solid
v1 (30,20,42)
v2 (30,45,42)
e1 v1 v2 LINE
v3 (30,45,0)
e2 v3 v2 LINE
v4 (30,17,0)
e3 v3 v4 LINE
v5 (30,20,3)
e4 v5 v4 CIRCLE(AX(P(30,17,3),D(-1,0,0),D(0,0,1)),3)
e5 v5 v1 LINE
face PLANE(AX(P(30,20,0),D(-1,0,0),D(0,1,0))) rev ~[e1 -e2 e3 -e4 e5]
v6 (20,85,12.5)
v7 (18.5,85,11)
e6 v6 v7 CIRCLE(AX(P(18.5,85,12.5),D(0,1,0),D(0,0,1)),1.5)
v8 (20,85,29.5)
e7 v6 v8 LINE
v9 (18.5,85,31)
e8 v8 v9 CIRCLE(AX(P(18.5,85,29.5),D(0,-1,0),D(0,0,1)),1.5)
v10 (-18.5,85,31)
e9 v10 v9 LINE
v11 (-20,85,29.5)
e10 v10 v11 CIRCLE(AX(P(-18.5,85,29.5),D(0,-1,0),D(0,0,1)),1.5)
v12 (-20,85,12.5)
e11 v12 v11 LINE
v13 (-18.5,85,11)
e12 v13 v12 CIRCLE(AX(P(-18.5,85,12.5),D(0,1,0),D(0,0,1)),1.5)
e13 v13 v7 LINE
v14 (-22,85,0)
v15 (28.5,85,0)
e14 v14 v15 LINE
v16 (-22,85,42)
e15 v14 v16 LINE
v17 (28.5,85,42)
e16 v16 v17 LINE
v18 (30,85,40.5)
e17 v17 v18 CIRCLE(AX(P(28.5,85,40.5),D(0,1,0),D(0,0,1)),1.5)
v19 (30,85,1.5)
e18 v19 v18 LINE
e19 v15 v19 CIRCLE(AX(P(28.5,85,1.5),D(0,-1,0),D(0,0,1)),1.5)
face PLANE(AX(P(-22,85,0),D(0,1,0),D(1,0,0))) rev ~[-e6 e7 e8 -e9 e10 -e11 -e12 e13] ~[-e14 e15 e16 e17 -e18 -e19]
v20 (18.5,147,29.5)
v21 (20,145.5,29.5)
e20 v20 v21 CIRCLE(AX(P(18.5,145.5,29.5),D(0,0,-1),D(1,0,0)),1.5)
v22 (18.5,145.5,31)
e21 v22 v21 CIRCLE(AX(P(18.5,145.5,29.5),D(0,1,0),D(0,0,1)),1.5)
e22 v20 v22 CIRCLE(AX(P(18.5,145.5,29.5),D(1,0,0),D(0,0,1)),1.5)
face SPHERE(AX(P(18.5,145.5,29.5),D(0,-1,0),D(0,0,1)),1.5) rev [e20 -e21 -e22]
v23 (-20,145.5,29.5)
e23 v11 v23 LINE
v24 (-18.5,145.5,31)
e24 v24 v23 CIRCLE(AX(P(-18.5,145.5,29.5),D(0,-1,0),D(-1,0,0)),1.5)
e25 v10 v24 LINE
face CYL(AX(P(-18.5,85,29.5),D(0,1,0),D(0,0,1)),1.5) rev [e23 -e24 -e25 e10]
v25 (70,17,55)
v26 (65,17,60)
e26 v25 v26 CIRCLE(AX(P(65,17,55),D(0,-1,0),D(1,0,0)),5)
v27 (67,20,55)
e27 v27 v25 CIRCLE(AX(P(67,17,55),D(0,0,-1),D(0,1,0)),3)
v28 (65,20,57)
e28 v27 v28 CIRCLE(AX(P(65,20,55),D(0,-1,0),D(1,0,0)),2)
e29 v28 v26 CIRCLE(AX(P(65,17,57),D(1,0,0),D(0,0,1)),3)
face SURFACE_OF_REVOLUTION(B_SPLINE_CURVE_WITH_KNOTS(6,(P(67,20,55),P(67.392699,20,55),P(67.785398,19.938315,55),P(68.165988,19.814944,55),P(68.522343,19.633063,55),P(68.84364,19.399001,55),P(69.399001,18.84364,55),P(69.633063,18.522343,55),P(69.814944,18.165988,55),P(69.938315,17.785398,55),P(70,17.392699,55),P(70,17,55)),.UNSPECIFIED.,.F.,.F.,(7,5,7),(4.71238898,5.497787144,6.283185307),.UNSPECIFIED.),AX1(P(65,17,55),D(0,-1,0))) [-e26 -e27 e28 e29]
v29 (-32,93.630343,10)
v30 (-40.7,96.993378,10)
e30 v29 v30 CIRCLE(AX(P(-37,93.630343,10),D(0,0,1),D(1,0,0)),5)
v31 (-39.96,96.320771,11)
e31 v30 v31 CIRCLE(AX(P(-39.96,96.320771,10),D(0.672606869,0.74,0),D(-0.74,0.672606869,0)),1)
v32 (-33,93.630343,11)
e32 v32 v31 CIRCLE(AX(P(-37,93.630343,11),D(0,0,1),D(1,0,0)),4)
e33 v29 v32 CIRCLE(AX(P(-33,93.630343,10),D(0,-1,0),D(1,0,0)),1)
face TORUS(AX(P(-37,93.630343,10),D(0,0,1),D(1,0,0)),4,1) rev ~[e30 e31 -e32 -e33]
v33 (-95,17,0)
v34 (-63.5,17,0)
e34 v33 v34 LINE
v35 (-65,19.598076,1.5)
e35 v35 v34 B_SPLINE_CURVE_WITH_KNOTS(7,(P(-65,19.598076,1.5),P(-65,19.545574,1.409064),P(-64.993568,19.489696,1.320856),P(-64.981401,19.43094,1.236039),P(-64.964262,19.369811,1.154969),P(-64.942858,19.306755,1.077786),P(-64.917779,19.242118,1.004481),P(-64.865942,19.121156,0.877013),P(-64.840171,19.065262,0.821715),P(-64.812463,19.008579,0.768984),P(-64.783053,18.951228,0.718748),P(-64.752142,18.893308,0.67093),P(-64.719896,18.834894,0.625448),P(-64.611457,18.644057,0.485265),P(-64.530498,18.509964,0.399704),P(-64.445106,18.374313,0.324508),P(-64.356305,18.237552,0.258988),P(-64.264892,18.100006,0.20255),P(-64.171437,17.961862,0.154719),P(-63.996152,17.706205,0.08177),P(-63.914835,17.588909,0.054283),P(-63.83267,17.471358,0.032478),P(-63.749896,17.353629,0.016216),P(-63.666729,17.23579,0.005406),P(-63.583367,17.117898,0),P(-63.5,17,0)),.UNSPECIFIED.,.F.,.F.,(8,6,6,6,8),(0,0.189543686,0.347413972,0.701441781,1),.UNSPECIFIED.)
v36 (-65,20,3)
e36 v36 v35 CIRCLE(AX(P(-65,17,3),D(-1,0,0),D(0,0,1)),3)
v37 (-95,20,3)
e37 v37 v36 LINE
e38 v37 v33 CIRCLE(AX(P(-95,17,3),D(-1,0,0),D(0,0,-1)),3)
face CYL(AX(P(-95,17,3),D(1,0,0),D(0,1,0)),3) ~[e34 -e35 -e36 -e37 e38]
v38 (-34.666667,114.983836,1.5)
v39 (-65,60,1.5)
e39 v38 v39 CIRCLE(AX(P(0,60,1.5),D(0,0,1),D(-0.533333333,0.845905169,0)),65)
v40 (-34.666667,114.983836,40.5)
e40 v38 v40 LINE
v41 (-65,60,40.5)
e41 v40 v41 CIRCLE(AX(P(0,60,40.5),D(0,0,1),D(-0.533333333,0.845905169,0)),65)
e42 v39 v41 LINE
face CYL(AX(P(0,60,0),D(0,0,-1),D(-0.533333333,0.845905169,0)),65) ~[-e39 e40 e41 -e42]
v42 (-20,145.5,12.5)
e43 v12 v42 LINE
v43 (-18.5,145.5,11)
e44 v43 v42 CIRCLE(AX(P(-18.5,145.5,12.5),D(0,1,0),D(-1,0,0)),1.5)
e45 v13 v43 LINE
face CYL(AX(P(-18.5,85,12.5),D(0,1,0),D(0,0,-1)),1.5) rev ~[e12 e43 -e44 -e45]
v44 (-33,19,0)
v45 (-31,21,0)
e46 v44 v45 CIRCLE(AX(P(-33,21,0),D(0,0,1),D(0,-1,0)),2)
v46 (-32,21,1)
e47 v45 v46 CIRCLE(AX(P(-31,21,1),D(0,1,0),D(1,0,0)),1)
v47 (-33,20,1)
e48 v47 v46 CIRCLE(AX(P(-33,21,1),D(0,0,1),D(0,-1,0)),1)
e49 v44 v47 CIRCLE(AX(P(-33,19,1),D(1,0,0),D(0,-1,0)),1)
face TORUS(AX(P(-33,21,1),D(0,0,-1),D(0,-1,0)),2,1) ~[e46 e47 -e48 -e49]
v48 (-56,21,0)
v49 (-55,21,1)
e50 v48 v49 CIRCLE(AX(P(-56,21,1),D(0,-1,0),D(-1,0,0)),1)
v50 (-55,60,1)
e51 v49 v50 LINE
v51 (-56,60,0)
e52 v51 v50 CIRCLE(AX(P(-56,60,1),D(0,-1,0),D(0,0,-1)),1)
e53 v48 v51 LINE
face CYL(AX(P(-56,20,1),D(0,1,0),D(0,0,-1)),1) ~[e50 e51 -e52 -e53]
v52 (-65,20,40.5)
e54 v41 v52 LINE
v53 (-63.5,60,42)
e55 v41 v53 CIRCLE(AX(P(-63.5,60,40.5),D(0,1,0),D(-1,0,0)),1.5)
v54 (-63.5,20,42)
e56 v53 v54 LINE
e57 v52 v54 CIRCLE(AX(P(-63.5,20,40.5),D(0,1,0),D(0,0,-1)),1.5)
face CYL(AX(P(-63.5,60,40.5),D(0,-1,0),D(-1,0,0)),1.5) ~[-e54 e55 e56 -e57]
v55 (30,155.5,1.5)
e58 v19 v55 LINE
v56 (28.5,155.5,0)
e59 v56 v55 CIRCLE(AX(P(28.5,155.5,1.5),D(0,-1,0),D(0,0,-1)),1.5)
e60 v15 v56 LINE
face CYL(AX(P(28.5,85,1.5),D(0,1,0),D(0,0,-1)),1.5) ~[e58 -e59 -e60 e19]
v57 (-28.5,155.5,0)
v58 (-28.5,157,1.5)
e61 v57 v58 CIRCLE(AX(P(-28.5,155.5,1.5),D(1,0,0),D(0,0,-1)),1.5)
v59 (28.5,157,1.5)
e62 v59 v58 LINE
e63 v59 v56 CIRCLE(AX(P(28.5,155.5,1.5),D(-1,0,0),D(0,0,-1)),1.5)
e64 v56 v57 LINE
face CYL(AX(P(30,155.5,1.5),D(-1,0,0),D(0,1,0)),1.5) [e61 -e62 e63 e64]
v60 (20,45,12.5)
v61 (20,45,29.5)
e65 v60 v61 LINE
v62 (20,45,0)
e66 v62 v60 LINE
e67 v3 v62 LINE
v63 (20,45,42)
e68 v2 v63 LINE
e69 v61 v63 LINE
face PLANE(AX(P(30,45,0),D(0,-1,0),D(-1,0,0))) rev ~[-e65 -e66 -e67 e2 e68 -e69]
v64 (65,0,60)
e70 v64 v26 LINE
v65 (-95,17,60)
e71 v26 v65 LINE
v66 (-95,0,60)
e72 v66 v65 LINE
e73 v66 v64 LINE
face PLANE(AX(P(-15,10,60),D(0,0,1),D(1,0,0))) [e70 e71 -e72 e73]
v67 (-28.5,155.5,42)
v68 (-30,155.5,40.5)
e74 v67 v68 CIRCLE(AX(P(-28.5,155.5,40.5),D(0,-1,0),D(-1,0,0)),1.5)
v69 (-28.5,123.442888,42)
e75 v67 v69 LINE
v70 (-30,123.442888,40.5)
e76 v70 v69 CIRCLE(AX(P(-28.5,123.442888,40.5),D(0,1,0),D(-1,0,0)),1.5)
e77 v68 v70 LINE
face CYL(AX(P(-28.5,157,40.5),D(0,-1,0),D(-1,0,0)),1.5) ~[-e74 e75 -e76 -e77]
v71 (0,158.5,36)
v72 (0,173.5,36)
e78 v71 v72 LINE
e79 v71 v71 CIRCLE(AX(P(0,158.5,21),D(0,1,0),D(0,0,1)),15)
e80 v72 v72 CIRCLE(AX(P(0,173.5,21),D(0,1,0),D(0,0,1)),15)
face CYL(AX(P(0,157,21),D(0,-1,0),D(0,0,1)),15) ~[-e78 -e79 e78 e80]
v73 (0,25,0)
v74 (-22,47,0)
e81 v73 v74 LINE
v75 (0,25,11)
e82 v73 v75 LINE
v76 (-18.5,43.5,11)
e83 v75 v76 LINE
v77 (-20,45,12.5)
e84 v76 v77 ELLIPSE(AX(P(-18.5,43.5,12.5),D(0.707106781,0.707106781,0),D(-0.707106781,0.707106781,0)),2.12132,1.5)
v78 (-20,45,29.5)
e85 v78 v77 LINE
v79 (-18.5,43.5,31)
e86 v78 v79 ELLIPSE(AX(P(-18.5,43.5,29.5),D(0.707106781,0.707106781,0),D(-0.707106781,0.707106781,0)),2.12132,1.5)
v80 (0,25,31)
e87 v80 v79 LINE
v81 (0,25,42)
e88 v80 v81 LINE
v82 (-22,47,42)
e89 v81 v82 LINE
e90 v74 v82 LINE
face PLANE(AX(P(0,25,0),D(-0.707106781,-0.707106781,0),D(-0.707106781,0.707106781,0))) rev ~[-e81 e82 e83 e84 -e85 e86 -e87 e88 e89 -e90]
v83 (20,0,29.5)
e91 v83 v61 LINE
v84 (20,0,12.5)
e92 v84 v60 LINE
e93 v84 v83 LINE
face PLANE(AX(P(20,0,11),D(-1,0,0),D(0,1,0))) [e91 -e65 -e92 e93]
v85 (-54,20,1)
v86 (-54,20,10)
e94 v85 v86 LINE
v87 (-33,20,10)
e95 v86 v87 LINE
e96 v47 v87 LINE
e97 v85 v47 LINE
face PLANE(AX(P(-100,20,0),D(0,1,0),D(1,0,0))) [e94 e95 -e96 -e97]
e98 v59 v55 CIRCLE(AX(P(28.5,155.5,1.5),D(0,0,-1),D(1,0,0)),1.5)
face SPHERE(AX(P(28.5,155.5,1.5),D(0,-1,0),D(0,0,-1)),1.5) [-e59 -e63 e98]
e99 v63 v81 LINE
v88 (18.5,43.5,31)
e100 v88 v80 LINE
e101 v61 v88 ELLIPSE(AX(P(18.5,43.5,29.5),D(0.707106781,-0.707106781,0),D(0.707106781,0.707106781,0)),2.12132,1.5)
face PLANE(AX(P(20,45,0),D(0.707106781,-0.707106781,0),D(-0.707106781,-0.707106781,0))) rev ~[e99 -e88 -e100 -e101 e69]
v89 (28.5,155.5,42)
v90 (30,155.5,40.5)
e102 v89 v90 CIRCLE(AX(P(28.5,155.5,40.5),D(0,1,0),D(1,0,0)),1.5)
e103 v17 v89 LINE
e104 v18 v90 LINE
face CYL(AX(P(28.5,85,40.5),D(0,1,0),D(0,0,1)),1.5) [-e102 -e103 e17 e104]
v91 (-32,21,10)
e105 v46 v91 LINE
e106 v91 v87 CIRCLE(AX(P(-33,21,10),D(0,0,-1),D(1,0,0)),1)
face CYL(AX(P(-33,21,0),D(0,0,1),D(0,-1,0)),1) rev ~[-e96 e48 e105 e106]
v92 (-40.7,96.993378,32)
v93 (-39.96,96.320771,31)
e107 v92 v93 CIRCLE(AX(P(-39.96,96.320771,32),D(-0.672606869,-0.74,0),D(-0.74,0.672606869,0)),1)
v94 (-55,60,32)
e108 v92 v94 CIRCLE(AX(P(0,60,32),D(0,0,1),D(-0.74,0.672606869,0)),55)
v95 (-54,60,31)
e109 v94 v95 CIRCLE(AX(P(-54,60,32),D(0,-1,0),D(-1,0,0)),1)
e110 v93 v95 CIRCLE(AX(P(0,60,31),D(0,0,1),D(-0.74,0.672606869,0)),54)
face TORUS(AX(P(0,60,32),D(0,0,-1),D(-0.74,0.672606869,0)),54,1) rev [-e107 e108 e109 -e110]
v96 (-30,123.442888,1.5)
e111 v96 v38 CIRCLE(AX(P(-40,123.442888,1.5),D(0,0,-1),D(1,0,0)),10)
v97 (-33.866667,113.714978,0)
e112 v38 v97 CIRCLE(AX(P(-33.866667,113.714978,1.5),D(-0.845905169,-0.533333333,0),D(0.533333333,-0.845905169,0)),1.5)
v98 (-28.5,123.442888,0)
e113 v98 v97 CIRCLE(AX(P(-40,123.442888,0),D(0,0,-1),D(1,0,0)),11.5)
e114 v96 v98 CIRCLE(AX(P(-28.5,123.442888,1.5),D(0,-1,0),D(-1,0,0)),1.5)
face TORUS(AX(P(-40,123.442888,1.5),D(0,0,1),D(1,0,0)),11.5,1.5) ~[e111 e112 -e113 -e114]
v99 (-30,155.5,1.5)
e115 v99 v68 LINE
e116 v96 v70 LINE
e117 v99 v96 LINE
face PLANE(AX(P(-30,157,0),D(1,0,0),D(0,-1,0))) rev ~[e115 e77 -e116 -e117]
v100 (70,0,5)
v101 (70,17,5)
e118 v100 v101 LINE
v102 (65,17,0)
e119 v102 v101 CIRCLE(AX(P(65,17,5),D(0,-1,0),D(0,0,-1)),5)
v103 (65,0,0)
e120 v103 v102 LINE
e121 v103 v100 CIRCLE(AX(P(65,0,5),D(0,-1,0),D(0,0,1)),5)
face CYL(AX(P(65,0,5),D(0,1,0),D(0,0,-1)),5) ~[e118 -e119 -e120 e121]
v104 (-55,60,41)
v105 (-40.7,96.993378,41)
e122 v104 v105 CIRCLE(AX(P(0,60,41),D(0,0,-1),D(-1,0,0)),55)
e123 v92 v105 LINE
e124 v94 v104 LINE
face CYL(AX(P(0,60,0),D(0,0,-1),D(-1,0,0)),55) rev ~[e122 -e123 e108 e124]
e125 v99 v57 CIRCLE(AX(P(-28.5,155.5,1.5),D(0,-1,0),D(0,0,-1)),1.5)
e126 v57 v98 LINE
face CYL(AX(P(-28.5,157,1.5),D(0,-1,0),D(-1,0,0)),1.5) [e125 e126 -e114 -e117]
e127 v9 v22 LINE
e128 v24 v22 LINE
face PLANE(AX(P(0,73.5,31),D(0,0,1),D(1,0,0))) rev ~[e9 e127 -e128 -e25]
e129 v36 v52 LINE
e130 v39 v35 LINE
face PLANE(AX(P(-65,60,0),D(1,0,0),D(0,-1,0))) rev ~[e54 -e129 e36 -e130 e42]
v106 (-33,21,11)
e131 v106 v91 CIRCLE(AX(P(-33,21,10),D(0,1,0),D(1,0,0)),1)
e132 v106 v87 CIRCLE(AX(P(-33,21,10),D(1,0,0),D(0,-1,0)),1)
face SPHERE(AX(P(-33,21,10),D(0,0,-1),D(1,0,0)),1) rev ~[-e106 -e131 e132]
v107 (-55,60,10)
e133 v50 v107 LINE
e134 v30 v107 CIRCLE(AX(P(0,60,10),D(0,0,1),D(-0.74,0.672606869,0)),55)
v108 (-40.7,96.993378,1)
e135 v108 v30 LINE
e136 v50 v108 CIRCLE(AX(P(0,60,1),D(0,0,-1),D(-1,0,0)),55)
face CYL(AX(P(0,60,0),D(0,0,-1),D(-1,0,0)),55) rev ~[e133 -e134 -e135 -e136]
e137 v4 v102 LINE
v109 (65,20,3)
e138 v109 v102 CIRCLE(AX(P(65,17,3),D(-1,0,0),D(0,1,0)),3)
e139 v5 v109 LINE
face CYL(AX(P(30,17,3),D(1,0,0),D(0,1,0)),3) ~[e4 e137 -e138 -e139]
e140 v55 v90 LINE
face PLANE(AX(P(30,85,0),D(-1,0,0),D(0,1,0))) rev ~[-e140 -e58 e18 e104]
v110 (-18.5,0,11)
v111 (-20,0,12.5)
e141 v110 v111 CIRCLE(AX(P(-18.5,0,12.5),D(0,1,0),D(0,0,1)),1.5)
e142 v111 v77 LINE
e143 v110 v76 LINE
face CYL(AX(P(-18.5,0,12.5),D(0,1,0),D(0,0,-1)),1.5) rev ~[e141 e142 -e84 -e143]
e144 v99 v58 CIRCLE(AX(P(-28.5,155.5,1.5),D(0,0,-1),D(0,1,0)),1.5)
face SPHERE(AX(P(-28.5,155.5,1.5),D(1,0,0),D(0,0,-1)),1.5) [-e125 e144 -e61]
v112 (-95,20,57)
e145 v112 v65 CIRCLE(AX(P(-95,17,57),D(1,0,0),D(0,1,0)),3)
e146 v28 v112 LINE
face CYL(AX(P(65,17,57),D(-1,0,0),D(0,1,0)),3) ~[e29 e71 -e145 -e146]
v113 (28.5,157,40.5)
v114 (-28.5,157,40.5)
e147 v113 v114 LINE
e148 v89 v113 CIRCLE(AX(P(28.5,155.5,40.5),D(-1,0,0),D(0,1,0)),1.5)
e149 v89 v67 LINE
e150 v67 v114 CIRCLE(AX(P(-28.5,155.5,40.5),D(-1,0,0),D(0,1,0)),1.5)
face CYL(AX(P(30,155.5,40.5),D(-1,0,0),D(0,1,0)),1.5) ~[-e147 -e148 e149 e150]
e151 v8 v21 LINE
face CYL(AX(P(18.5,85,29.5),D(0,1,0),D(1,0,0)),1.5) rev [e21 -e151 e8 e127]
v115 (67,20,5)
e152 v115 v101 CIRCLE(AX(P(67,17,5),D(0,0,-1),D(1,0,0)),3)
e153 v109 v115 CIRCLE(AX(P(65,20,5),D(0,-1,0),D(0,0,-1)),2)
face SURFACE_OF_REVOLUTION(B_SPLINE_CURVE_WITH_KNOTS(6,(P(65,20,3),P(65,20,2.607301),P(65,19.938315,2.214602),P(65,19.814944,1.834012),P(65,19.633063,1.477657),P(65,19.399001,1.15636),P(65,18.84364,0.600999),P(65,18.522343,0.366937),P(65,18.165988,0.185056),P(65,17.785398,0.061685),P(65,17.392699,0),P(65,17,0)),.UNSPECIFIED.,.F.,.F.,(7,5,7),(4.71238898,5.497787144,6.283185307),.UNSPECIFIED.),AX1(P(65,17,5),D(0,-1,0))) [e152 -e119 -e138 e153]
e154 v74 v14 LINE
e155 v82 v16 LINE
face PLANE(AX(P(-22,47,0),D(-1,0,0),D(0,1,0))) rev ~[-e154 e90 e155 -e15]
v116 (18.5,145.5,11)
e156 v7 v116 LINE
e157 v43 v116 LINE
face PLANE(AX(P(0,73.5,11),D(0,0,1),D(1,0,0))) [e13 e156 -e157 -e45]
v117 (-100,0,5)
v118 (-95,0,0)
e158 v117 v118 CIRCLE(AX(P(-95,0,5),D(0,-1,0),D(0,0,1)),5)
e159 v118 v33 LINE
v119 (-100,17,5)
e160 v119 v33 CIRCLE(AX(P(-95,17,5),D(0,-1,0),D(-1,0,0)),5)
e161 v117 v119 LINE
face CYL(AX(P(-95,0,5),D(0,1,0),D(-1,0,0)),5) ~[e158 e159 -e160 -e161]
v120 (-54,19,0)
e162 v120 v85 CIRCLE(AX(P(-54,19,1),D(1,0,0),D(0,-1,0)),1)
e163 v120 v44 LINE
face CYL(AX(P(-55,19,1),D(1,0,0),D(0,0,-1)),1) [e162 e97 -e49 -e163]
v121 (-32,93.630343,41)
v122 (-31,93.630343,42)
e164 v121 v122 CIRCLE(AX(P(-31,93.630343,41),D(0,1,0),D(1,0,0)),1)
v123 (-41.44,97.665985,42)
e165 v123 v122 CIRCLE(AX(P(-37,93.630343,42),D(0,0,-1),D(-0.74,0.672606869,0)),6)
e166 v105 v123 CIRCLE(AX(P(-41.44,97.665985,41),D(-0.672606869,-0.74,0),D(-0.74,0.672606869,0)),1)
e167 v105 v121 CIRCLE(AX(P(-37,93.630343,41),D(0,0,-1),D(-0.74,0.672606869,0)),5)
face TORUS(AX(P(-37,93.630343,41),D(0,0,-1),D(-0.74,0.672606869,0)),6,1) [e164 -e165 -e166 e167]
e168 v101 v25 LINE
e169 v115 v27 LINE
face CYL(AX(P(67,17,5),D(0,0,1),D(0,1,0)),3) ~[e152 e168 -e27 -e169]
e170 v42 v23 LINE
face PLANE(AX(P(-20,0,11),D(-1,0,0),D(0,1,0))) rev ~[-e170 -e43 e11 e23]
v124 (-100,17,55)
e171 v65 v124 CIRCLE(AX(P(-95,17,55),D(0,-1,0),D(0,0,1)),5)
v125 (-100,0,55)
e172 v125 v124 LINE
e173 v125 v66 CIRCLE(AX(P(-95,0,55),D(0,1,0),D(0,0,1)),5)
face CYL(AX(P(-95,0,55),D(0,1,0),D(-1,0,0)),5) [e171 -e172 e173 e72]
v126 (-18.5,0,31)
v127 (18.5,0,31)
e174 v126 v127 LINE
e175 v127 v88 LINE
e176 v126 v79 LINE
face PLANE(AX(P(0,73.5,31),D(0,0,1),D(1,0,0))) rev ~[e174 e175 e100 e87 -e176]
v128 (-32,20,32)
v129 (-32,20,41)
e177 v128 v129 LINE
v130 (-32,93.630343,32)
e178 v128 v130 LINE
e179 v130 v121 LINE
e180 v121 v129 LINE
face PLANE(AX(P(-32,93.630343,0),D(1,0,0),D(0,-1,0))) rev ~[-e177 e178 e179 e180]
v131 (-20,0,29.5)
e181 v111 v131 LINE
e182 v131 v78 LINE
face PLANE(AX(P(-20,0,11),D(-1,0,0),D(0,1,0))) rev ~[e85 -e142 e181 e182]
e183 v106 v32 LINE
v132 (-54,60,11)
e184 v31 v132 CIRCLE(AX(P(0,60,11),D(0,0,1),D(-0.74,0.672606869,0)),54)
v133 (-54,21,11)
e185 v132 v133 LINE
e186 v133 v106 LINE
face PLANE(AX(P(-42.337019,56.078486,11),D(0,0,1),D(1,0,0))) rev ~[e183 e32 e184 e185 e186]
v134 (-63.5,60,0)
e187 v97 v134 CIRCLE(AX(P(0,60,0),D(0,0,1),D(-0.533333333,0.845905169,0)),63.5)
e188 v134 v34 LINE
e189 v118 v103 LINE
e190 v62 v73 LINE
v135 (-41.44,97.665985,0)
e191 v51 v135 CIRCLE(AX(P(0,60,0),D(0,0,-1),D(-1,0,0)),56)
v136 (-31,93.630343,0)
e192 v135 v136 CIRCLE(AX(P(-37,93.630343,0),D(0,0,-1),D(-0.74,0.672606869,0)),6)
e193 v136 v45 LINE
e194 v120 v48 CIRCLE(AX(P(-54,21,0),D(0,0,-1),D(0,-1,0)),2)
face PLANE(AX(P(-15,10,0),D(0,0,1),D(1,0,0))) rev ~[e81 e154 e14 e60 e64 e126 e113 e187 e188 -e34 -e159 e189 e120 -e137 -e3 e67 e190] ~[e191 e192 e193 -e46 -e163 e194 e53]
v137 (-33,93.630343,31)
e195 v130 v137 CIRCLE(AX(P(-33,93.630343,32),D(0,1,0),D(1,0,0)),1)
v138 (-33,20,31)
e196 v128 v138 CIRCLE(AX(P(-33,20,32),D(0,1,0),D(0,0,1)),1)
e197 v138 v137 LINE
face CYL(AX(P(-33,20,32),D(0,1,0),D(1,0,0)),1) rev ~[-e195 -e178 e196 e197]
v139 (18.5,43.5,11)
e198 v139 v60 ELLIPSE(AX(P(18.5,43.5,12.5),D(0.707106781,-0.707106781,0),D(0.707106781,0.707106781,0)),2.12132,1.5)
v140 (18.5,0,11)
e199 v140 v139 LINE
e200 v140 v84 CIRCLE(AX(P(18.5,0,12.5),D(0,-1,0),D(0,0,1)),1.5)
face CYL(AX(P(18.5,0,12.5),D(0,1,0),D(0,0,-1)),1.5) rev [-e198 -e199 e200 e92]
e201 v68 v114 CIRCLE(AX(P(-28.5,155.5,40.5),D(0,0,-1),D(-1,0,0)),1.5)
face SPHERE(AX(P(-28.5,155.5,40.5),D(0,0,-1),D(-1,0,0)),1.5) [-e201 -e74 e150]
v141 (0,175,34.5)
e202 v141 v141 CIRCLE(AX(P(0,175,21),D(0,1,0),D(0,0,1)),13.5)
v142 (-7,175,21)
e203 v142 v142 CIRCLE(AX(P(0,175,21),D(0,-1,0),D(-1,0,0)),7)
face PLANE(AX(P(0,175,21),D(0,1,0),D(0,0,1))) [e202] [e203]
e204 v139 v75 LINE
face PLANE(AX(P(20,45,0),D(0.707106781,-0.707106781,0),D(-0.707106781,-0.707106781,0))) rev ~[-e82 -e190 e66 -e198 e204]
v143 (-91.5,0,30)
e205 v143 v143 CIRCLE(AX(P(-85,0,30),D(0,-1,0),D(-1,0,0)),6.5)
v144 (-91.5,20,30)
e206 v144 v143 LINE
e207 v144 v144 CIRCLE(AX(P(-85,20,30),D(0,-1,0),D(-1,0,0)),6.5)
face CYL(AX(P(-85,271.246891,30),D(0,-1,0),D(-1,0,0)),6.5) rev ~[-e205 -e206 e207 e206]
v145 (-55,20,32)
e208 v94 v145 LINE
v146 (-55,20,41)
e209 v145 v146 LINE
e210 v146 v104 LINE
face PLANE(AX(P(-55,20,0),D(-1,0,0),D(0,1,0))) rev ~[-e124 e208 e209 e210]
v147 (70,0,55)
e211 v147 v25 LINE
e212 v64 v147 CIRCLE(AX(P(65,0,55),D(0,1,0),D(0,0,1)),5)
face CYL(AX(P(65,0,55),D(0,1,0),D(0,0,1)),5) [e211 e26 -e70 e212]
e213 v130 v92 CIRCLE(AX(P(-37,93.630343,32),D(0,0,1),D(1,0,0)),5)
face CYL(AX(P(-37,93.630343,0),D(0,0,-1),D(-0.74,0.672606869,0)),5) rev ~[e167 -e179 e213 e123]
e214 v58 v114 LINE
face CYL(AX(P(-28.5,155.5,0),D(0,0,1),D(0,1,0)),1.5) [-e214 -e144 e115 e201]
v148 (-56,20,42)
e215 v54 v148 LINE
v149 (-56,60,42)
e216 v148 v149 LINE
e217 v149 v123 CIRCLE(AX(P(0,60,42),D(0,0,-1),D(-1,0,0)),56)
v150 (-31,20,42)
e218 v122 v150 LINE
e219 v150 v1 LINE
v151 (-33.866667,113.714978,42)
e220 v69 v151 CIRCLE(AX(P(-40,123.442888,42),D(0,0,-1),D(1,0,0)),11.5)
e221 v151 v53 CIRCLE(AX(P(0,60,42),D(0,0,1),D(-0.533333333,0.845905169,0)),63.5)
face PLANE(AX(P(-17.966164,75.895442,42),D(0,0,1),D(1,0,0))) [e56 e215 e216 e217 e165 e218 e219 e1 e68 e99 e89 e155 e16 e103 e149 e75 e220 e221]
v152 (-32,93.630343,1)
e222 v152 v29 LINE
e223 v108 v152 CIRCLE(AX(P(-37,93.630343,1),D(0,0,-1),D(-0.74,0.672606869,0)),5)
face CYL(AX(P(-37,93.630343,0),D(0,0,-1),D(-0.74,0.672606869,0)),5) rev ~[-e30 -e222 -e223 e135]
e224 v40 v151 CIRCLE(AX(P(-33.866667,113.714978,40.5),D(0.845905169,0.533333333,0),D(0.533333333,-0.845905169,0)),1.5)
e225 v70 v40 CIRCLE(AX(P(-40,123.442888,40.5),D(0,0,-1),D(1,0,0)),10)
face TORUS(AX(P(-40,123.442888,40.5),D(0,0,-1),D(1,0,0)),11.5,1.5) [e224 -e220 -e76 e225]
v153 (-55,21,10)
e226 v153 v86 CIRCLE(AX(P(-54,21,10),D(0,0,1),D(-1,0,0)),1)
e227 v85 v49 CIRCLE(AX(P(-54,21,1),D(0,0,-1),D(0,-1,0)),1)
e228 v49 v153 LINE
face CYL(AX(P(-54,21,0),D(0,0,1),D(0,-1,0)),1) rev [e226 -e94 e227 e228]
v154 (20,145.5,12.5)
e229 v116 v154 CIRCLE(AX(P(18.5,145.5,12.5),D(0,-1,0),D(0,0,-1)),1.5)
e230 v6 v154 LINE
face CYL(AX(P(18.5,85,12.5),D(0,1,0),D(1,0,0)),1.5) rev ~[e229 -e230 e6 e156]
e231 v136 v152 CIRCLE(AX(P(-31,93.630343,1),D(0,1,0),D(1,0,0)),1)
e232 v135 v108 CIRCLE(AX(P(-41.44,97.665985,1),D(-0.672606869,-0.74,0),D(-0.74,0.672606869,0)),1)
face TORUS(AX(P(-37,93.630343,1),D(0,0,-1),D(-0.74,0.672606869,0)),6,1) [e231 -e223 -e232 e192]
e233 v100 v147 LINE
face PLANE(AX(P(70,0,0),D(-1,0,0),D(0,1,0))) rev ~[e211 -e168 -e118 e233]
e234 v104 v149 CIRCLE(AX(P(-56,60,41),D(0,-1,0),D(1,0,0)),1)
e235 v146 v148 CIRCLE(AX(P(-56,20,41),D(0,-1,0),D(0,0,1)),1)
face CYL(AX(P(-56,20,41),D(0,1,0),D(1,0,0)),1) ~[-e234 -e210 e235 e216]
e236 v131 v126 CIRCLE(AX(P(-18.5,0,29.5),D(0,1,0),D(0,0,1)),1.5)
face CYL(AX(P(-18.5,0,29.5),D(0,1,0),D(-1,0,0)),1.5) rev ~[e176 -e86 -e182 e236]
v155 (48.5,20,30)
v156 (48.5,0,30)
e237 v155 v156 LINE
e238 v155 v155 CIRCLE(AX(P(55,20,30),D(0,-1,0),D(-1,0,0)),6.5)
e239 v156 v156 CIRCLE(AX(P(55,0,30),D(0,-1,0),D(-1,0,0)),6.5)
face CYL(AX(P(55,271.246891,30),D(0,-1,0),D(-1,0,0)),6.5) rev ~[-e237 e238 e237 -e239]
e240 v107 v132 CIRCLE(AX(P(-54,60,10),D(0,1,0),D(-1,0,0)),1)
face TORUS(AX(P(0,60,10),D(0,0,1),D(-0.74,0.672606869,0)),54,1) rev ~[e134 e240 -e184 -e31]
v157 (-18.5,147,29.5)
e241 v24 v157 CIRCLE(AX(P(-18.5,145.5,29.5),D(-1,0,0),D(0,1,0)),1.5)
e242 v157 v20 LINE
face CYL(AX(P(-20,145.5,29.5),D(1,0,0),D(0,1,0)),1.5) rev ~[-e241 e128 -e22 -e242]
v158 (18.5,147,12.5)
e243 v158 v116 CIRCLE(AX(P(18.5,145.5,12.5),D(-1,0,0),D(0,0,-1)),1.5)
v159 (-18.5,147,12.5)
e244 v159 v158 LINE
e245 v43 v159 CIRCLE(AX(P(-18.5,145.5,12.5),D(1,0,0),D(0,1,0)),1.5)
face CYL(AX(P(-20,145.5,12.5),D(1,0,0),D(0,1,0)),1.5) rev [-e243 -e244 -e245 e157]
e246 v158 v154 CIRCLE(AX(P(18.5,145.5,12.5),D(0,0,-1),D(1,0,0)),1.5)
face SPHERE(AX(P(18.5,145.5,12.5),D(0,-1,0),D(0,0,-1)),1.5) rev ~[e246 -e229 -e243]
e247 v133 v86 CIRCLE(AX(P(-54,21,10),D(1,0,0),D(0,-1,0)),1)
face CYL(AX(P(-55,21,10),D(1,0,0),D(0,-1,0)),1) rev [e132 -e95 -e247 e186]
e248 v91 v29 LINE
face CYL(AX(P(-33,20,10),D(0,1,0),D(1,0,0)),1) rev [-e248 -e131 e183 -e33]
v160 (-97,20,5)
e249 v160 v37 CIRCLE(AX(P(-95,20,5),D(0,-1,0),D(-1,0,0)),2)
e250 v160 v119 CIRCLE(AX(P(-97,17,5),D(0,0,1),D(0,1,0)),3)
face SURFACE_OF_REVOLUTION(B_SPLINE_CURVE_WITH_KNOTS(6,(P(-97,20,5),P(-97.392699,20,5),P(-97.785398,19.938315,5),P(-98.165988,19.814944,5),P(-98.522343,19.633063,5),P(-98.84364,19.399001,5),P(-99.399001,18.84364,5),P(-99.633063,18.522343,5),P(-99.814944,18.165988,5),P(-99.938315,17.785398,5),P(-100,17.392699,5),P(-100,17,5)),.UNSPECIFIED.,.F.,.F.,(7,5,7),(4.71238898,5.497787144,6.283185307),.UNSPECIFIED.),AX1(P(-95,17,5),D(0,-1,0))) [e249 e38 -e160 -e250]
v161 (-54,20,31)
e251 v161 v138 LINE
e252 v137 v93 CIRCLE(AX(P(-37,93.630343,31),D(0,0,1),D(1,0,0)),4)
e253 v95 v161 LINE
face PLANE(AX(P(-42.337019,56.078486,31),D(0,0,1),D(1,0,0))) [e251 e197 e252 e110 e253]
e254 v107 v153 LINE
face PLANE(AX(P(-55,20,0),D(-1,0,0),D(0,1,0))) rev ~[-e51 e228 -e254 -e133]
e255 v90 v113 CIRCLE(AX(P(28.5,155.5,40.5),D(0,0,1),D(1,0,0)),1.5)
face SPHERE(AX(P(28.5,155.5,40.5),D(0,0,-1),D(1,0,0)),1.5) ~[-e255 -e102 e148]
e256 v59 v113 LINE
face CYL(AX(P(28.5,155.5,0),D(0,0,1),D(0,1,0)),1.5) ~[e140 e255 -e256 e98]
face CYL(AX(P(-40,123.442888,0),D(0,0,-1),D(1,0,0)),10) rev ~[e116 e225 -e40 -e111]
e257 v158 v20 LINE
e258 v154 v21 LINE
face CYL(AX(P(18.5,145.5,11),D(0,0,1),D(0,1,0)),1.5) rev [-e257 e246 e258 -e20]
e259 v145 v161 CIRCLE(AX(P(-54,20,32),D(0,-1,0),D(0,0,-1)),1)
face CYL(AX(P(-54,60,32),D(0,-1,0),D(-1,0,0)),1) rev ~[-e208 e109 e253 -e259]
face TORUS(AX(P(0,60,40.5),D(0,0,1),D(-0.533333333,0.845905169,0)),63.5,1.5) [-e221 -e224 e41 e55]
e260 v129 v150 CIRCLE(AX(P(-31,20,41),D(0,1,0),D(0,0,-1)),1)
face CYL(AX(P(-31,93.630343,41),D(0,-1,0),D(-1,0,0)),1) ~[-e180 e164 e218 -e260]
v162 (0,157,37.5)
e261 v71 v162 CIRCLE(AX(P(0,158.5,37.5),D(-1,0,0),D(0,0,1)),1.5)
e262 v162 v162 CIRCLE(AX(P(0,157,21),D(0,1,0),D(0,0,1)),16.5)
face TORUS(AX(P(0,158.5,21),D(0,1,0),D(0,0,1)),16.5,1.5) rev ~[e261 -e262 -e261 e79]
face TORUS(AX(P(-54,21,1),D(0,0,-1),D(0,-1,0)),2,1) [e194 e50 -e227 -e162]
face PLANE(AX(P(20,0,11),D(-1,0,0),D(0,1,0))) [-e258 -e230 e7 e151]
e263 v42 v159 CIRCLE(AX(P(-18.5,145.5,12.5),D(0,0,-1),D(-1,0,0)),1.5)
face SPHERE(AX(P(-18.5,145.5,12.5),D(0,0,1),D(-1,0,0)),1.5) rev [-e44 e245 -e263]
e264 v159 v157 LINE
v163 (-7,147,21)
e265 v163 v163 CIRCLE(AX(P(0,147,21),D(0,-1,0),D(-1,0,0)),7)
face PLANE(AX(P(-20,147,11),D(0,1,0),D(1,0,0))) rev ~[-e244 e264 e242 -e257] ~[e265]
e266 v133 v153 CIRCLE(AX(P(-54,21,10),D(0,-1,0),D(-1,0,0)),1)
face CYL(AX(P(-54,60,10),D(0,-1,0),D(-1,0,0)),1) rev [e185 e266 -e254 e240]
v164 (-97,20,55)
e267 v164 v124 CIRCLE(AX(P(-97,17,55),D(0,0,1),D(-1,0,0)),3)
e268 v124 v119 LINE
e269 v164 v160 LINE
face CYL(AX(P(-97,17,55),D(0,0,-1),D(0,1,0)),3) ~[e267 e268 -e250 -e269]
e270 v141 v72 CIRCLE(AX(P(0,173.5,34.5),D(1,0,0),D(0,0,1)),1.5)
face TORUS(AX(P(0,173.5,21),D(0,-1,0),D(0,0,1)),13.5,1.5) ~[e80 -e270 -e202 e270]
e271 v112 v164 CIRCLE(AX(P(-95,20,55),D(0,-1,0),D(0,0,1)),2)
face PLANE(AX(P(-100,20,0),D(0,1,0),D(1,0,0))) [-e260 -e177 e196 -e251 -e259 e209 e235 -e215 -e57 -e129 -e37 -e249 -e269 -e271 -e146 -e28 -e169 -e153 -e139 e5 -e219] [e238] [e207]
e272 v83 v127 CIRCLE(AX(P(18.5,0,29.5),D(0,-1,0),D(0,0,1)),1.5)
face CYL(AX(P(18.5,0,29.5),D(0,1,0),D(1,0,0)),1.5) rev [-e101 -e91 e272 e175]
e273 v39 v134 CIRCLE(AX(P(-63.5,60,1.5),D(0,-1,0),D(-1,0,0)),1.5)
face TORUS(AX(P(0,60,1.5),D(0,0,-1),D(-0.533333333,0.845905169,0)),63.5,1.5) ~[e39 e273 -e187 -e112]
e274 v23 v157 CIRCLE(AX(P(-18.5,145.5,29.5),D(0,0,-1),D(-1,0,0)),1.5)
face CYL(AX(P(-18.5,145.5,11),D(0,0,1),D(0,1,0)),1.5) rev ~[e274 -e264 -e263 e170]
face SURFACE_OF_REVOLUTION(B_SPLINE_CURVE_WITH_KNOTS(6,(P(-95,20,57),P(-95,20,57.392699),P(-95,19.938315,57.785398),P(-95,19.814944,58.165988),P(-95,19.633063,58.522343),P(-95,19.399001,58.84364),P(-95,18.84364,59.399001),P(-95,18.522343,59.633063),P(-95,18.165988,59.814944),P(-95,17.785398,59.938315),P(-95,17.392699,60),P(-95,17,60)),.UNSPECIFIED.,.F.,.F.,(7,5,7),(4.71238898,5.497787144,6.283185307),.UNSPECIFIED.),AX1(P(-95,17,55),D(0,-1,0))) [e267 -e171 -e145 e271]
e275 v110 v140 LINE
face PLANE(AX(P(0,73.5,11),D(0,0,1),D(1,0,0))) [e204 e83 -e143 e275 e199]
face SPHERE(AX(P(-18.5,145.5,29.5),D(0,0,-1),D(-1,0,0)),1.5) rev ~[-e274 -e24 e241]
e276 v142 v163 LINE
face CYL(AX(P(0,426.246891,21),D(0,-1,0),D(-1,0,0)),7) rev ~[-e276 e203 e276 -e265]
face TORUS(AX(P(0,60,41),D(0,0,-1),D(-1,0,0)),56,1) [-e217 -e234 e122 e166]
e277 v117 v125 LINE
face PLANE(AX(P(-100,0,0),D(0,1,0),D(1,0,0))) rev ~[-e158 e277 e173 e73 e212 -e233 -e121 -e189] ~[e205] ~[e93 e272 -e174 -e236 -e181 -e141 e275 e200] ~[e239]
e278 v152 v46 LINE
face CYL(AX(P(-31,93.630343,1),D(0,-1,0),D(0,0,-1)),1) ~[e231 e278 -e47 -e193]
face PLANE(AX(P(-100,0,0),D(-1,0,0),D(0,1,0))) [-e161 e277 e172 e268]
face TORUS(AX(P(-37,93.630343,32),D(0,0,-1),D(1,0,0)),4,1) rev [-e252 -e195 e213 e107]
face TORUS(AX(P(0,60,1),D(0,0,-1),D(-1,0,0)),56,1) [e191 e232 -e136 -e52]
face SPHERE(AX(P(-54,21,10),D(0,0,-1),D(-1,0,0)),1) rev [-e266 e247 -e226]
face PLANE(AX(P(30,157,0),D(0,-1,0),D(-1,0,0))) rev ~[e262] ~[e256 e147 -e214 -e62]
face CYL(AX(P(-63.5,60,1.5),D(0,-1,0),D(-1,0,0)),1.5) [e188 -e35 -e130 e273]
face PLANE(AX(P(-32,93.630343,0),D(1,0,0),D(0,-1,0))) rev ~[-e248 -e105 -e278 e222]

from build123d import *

# Parameters (mm, degrees)
SKETCH1_W              = 170
SKETCH1_H              = 20
BOSS_EXTRUDE1_DEPTH    = 60
BOSS_EXTRUDE2_DEPTH    = 42
BOSS_EXTRUDE3_START    = 11
BOSS_EXTRUDE3_DEPTH    = 20
CUT_EXTRUDE1_START     = 11
SKETCH2_W              = 40
SKETCH2_H              = 147
CUT_EXTRUDE1_DEPTH     = 20
SKETCH3_R              = 15
BOSS_EXTRUDE4_DEPTH    = 18
M16X2_0_TAPPED_HOLE1_D = 14
F_1_0MM_DOWEL_HOLE1_D  = 13
FILLET1_R              = 5
FILLET2_R              = 3
FILLET3_R              = 1.5
FILLET4_R              = 1.5
FILLET5_R              = 1
FILLET6_R              = 1


with BuildPart() as part:
    # Sketch1 → Boss-Extrude1 (new body)
    with BuildSketch(Plane.XY):
        with Locations((-15, 10)):
            Rectangle(SKETCH1_W, SKETCH1_H)
    extrude(amount=BOSS_EXTRUDE1_DEPTH)

    # Sketch1<3> → Boss-Extrude2 (add)
    with BuildSketch(Plane.XY):
        with BuildLine():
            Line((-32, 20), (30, 20))
            Line((30, 20), (30, 45))
            Line((30, 45), (20, 45))
            Line((20, 45), (0, 25))
            Line((0, 25), (-22, 47))
            Line((-22, 47), (-22, 85))
            Line((-22, 85), (30, 85))
            Line((30, 85), (30, 157))
            Line((30, 157), (-30, 157))
            Line((-30, 157), (-30, 123.442887702))
            ThreePointArc((-30, 123.442887702), (-31.244049642, 118.612428787), (-34.666666667, 114.983836009))
            ThreePointArc((-34.666666667, 114.983836009), (-56.913677325, 91.39798295), (-65, 60))
            Line((-65, 60), (-65, 20))
            Line((-65, 20), (-55, 20))
            Line((-55, 20), (-55, 60))
            ThreePointArc((-55, 60), (-51.300584792, 79.830532015), (-40.7, 96.993377786))
            ThreePointArc((-40.7, 96.993377786), (-35.197224362, 98.294032968), (-32, 93.630343442))
            Line((-32, 93.630343442), (-32, 20))
        make_face()
    extrude(amount=BOSS_EXTRUDE2_DEPTH)

    # Sketch1<4> → Boss-Extrude3 (add)
    with BuildSketch(Plane.XY.offset(BOSS_EXTRUDE3_START)):
        with BuildLine():
            Line((-55, 20), (-32, 20))
            Line((-32, 20), (-32, 93.630343442))
            ThreePointArc((-32, 93.630343442), (-35.197224362, 98.294032968), (-40.7, 96.993377786))
            ThreePointArc((-40.7, 96.993377786), (-51.300584792, 79.830532015), (-55, 60))
            Line((-55, 60), (-55, 20))
        make_face()
    extrude(amount=BOSS_EXTRUDE3_DEPTH)

    # Sketch2 → Cut-Extrude1 (cut)
    with BuildSketch(Plane.XY.offset(CUT_EXTRUDE1_START)):
        with Locations((0, 73.5)):
            Rectangle(SKETCH2_W, SKETCH2_H)
    extrude(amount=CUT_EXTRUDE1_DEPTH, mode=Mode.SUBTRACT)

    # Sketch3 → Boss-Extrude4 (add)
    with BuildSketch(Plane(origin=(0, 157, 0), x_dir=(1, 0, 0), z_dir=(0, 1, 0))):
        with Locations(Location((0, -21, 0), (0, 0, 270))):
            Circle(SKETCH3_R)
    extrude(amount=BOSS_EXTRUDE4_DEPTH)

    # M16x2.0 Tapped Hole1 (through all)
    with Locations(Plane(origin=(0, 175, 0), x_dir=(1, 0, 0), z_dir=(0, 1, 0))):
        with Locations((0, -21)):
            Hole(M16X2_0_TAPPED_HOLE1_D / 2)

    # Ø1.0mm Dowel Hole1 (through all)
    with Locations(Plane(origin=(0, 20, 0), x_dir=(1, 0, 0), z_dir=(0, 1, 0))):
        with Locations((55, -30), (-85, -30)):
            Hole(F_1_0MM_DOWEL_HOLE1_D / 2)

    # Fillet1
    fillet1_edges = [part.edges().sort_by_distance(p)[0] for p in [
        (70, 10, 60),
        (-100, 10, 60),
        (-100, 10, 0),
        (70, 10, 0),
    ]]
    fillet(fillet1_edges, radius=FILLET1_R)

    # Fillet2
    fillet2_edges = [part.edges().sort_by_distance(p)[0] for p in [
        (-80, 20, 0),
        (-100, 20, 30),
        (-15, 20, 60),
        (70, 20, 30),
        (68.535533906, 20, 58.535533906),
        (68.535533906, 20, 1.464466094),
        (-98.535533906, 20, 58.535533906),
        (-98.535533906, 20, 1.464466094),
        (47.5, 20, 0),
    ]]
    fillet(fillet2_edges, radius=FILLET2_R)

    # Fillet3
    fillet3_edges = [part.edges().sort_by_distance(p)[0] for p in [
        (-20, 22.5, 11),
        (-20, 147, 21),
        (-20, 116, 11),
        (20, 22.5, 11),
        (20, 116, 11),
        (20, 22.5, 31),
        (-20, 22.5, 31),
        (-20, 116, 31),
        (20, 116, 31),
        (0, 147, 31),
        (0, 147, 11),
        (20, 147, 21),
    ]]
    fillet(fillet3_edges, radius=FILLET3_R)

    # Fillet4
    fillet4_edges = [part.edges().sort_by_distance(p)[0] for p in [
        (0, 157, 6),
        (0, 175, 6),
        (30, 121, 0),
        (0, 157, 0),
        (30, 157, 21),
        (-30, 140.221443851, 0),
        (-30, 157, 21),
        (-31.244049642, 118.612428787, 42),
        (-56.913677325, 91.39798295, 42),
        (-65, 40, 42),
        (30, 121, 42),
        (0, 157, 42),
        (-30, 140.221443851, 42),
        (-65, 38.5, 0),
        (-56.913677325, 91.39798295, 0),
        (-31.244049642, 118.612428787, 0),
    ]]
    fillet(fillet4_edges, radius=FILLET4_R)

    # Fillet5
    fillet5_edges = [part.edges().sort_by_distance(p)[0] for p in [
        (-35.197224362, 98.294032968, 42),
        (-32, 56.815171721, 42),
        (-55, 40, 42),
        (-51.300584792, 79.830532015, 42),
        (-51.300584792, 79.830532015, 31),
        (-55, 40, 31),
        (-32, 56.815171721, 31),
        (-35.197224362, 98.294032968, 31),
    ]]
    fillet(fillet5_edges, radius=FILLET5_R)

    # Fillet6
    fillet6_edges = [part.edges().sort_by_distance(p)[0] for p in [
        (-43.5, 20, 0),
        (-55, 40, 0),
        (-51.300584792, 79.830532015, 0),
        (-35.197224362, 98.294032968, 0),
        (-32, 56.815171721, 0),
        (-55, 20, 5.5),
        (-32, 20, 5.5),
        (-32, 56.815171721, 11),
        (-35.197224362, 98.294032968, 11),
        (-43.5, 20, 11),
        (-55, 40, 11),
        (-51.300584792, 79.830532015, 11),
    ]]
    fillet(fillet6_edges, radius=FILLET6_R)


solid = part.part
